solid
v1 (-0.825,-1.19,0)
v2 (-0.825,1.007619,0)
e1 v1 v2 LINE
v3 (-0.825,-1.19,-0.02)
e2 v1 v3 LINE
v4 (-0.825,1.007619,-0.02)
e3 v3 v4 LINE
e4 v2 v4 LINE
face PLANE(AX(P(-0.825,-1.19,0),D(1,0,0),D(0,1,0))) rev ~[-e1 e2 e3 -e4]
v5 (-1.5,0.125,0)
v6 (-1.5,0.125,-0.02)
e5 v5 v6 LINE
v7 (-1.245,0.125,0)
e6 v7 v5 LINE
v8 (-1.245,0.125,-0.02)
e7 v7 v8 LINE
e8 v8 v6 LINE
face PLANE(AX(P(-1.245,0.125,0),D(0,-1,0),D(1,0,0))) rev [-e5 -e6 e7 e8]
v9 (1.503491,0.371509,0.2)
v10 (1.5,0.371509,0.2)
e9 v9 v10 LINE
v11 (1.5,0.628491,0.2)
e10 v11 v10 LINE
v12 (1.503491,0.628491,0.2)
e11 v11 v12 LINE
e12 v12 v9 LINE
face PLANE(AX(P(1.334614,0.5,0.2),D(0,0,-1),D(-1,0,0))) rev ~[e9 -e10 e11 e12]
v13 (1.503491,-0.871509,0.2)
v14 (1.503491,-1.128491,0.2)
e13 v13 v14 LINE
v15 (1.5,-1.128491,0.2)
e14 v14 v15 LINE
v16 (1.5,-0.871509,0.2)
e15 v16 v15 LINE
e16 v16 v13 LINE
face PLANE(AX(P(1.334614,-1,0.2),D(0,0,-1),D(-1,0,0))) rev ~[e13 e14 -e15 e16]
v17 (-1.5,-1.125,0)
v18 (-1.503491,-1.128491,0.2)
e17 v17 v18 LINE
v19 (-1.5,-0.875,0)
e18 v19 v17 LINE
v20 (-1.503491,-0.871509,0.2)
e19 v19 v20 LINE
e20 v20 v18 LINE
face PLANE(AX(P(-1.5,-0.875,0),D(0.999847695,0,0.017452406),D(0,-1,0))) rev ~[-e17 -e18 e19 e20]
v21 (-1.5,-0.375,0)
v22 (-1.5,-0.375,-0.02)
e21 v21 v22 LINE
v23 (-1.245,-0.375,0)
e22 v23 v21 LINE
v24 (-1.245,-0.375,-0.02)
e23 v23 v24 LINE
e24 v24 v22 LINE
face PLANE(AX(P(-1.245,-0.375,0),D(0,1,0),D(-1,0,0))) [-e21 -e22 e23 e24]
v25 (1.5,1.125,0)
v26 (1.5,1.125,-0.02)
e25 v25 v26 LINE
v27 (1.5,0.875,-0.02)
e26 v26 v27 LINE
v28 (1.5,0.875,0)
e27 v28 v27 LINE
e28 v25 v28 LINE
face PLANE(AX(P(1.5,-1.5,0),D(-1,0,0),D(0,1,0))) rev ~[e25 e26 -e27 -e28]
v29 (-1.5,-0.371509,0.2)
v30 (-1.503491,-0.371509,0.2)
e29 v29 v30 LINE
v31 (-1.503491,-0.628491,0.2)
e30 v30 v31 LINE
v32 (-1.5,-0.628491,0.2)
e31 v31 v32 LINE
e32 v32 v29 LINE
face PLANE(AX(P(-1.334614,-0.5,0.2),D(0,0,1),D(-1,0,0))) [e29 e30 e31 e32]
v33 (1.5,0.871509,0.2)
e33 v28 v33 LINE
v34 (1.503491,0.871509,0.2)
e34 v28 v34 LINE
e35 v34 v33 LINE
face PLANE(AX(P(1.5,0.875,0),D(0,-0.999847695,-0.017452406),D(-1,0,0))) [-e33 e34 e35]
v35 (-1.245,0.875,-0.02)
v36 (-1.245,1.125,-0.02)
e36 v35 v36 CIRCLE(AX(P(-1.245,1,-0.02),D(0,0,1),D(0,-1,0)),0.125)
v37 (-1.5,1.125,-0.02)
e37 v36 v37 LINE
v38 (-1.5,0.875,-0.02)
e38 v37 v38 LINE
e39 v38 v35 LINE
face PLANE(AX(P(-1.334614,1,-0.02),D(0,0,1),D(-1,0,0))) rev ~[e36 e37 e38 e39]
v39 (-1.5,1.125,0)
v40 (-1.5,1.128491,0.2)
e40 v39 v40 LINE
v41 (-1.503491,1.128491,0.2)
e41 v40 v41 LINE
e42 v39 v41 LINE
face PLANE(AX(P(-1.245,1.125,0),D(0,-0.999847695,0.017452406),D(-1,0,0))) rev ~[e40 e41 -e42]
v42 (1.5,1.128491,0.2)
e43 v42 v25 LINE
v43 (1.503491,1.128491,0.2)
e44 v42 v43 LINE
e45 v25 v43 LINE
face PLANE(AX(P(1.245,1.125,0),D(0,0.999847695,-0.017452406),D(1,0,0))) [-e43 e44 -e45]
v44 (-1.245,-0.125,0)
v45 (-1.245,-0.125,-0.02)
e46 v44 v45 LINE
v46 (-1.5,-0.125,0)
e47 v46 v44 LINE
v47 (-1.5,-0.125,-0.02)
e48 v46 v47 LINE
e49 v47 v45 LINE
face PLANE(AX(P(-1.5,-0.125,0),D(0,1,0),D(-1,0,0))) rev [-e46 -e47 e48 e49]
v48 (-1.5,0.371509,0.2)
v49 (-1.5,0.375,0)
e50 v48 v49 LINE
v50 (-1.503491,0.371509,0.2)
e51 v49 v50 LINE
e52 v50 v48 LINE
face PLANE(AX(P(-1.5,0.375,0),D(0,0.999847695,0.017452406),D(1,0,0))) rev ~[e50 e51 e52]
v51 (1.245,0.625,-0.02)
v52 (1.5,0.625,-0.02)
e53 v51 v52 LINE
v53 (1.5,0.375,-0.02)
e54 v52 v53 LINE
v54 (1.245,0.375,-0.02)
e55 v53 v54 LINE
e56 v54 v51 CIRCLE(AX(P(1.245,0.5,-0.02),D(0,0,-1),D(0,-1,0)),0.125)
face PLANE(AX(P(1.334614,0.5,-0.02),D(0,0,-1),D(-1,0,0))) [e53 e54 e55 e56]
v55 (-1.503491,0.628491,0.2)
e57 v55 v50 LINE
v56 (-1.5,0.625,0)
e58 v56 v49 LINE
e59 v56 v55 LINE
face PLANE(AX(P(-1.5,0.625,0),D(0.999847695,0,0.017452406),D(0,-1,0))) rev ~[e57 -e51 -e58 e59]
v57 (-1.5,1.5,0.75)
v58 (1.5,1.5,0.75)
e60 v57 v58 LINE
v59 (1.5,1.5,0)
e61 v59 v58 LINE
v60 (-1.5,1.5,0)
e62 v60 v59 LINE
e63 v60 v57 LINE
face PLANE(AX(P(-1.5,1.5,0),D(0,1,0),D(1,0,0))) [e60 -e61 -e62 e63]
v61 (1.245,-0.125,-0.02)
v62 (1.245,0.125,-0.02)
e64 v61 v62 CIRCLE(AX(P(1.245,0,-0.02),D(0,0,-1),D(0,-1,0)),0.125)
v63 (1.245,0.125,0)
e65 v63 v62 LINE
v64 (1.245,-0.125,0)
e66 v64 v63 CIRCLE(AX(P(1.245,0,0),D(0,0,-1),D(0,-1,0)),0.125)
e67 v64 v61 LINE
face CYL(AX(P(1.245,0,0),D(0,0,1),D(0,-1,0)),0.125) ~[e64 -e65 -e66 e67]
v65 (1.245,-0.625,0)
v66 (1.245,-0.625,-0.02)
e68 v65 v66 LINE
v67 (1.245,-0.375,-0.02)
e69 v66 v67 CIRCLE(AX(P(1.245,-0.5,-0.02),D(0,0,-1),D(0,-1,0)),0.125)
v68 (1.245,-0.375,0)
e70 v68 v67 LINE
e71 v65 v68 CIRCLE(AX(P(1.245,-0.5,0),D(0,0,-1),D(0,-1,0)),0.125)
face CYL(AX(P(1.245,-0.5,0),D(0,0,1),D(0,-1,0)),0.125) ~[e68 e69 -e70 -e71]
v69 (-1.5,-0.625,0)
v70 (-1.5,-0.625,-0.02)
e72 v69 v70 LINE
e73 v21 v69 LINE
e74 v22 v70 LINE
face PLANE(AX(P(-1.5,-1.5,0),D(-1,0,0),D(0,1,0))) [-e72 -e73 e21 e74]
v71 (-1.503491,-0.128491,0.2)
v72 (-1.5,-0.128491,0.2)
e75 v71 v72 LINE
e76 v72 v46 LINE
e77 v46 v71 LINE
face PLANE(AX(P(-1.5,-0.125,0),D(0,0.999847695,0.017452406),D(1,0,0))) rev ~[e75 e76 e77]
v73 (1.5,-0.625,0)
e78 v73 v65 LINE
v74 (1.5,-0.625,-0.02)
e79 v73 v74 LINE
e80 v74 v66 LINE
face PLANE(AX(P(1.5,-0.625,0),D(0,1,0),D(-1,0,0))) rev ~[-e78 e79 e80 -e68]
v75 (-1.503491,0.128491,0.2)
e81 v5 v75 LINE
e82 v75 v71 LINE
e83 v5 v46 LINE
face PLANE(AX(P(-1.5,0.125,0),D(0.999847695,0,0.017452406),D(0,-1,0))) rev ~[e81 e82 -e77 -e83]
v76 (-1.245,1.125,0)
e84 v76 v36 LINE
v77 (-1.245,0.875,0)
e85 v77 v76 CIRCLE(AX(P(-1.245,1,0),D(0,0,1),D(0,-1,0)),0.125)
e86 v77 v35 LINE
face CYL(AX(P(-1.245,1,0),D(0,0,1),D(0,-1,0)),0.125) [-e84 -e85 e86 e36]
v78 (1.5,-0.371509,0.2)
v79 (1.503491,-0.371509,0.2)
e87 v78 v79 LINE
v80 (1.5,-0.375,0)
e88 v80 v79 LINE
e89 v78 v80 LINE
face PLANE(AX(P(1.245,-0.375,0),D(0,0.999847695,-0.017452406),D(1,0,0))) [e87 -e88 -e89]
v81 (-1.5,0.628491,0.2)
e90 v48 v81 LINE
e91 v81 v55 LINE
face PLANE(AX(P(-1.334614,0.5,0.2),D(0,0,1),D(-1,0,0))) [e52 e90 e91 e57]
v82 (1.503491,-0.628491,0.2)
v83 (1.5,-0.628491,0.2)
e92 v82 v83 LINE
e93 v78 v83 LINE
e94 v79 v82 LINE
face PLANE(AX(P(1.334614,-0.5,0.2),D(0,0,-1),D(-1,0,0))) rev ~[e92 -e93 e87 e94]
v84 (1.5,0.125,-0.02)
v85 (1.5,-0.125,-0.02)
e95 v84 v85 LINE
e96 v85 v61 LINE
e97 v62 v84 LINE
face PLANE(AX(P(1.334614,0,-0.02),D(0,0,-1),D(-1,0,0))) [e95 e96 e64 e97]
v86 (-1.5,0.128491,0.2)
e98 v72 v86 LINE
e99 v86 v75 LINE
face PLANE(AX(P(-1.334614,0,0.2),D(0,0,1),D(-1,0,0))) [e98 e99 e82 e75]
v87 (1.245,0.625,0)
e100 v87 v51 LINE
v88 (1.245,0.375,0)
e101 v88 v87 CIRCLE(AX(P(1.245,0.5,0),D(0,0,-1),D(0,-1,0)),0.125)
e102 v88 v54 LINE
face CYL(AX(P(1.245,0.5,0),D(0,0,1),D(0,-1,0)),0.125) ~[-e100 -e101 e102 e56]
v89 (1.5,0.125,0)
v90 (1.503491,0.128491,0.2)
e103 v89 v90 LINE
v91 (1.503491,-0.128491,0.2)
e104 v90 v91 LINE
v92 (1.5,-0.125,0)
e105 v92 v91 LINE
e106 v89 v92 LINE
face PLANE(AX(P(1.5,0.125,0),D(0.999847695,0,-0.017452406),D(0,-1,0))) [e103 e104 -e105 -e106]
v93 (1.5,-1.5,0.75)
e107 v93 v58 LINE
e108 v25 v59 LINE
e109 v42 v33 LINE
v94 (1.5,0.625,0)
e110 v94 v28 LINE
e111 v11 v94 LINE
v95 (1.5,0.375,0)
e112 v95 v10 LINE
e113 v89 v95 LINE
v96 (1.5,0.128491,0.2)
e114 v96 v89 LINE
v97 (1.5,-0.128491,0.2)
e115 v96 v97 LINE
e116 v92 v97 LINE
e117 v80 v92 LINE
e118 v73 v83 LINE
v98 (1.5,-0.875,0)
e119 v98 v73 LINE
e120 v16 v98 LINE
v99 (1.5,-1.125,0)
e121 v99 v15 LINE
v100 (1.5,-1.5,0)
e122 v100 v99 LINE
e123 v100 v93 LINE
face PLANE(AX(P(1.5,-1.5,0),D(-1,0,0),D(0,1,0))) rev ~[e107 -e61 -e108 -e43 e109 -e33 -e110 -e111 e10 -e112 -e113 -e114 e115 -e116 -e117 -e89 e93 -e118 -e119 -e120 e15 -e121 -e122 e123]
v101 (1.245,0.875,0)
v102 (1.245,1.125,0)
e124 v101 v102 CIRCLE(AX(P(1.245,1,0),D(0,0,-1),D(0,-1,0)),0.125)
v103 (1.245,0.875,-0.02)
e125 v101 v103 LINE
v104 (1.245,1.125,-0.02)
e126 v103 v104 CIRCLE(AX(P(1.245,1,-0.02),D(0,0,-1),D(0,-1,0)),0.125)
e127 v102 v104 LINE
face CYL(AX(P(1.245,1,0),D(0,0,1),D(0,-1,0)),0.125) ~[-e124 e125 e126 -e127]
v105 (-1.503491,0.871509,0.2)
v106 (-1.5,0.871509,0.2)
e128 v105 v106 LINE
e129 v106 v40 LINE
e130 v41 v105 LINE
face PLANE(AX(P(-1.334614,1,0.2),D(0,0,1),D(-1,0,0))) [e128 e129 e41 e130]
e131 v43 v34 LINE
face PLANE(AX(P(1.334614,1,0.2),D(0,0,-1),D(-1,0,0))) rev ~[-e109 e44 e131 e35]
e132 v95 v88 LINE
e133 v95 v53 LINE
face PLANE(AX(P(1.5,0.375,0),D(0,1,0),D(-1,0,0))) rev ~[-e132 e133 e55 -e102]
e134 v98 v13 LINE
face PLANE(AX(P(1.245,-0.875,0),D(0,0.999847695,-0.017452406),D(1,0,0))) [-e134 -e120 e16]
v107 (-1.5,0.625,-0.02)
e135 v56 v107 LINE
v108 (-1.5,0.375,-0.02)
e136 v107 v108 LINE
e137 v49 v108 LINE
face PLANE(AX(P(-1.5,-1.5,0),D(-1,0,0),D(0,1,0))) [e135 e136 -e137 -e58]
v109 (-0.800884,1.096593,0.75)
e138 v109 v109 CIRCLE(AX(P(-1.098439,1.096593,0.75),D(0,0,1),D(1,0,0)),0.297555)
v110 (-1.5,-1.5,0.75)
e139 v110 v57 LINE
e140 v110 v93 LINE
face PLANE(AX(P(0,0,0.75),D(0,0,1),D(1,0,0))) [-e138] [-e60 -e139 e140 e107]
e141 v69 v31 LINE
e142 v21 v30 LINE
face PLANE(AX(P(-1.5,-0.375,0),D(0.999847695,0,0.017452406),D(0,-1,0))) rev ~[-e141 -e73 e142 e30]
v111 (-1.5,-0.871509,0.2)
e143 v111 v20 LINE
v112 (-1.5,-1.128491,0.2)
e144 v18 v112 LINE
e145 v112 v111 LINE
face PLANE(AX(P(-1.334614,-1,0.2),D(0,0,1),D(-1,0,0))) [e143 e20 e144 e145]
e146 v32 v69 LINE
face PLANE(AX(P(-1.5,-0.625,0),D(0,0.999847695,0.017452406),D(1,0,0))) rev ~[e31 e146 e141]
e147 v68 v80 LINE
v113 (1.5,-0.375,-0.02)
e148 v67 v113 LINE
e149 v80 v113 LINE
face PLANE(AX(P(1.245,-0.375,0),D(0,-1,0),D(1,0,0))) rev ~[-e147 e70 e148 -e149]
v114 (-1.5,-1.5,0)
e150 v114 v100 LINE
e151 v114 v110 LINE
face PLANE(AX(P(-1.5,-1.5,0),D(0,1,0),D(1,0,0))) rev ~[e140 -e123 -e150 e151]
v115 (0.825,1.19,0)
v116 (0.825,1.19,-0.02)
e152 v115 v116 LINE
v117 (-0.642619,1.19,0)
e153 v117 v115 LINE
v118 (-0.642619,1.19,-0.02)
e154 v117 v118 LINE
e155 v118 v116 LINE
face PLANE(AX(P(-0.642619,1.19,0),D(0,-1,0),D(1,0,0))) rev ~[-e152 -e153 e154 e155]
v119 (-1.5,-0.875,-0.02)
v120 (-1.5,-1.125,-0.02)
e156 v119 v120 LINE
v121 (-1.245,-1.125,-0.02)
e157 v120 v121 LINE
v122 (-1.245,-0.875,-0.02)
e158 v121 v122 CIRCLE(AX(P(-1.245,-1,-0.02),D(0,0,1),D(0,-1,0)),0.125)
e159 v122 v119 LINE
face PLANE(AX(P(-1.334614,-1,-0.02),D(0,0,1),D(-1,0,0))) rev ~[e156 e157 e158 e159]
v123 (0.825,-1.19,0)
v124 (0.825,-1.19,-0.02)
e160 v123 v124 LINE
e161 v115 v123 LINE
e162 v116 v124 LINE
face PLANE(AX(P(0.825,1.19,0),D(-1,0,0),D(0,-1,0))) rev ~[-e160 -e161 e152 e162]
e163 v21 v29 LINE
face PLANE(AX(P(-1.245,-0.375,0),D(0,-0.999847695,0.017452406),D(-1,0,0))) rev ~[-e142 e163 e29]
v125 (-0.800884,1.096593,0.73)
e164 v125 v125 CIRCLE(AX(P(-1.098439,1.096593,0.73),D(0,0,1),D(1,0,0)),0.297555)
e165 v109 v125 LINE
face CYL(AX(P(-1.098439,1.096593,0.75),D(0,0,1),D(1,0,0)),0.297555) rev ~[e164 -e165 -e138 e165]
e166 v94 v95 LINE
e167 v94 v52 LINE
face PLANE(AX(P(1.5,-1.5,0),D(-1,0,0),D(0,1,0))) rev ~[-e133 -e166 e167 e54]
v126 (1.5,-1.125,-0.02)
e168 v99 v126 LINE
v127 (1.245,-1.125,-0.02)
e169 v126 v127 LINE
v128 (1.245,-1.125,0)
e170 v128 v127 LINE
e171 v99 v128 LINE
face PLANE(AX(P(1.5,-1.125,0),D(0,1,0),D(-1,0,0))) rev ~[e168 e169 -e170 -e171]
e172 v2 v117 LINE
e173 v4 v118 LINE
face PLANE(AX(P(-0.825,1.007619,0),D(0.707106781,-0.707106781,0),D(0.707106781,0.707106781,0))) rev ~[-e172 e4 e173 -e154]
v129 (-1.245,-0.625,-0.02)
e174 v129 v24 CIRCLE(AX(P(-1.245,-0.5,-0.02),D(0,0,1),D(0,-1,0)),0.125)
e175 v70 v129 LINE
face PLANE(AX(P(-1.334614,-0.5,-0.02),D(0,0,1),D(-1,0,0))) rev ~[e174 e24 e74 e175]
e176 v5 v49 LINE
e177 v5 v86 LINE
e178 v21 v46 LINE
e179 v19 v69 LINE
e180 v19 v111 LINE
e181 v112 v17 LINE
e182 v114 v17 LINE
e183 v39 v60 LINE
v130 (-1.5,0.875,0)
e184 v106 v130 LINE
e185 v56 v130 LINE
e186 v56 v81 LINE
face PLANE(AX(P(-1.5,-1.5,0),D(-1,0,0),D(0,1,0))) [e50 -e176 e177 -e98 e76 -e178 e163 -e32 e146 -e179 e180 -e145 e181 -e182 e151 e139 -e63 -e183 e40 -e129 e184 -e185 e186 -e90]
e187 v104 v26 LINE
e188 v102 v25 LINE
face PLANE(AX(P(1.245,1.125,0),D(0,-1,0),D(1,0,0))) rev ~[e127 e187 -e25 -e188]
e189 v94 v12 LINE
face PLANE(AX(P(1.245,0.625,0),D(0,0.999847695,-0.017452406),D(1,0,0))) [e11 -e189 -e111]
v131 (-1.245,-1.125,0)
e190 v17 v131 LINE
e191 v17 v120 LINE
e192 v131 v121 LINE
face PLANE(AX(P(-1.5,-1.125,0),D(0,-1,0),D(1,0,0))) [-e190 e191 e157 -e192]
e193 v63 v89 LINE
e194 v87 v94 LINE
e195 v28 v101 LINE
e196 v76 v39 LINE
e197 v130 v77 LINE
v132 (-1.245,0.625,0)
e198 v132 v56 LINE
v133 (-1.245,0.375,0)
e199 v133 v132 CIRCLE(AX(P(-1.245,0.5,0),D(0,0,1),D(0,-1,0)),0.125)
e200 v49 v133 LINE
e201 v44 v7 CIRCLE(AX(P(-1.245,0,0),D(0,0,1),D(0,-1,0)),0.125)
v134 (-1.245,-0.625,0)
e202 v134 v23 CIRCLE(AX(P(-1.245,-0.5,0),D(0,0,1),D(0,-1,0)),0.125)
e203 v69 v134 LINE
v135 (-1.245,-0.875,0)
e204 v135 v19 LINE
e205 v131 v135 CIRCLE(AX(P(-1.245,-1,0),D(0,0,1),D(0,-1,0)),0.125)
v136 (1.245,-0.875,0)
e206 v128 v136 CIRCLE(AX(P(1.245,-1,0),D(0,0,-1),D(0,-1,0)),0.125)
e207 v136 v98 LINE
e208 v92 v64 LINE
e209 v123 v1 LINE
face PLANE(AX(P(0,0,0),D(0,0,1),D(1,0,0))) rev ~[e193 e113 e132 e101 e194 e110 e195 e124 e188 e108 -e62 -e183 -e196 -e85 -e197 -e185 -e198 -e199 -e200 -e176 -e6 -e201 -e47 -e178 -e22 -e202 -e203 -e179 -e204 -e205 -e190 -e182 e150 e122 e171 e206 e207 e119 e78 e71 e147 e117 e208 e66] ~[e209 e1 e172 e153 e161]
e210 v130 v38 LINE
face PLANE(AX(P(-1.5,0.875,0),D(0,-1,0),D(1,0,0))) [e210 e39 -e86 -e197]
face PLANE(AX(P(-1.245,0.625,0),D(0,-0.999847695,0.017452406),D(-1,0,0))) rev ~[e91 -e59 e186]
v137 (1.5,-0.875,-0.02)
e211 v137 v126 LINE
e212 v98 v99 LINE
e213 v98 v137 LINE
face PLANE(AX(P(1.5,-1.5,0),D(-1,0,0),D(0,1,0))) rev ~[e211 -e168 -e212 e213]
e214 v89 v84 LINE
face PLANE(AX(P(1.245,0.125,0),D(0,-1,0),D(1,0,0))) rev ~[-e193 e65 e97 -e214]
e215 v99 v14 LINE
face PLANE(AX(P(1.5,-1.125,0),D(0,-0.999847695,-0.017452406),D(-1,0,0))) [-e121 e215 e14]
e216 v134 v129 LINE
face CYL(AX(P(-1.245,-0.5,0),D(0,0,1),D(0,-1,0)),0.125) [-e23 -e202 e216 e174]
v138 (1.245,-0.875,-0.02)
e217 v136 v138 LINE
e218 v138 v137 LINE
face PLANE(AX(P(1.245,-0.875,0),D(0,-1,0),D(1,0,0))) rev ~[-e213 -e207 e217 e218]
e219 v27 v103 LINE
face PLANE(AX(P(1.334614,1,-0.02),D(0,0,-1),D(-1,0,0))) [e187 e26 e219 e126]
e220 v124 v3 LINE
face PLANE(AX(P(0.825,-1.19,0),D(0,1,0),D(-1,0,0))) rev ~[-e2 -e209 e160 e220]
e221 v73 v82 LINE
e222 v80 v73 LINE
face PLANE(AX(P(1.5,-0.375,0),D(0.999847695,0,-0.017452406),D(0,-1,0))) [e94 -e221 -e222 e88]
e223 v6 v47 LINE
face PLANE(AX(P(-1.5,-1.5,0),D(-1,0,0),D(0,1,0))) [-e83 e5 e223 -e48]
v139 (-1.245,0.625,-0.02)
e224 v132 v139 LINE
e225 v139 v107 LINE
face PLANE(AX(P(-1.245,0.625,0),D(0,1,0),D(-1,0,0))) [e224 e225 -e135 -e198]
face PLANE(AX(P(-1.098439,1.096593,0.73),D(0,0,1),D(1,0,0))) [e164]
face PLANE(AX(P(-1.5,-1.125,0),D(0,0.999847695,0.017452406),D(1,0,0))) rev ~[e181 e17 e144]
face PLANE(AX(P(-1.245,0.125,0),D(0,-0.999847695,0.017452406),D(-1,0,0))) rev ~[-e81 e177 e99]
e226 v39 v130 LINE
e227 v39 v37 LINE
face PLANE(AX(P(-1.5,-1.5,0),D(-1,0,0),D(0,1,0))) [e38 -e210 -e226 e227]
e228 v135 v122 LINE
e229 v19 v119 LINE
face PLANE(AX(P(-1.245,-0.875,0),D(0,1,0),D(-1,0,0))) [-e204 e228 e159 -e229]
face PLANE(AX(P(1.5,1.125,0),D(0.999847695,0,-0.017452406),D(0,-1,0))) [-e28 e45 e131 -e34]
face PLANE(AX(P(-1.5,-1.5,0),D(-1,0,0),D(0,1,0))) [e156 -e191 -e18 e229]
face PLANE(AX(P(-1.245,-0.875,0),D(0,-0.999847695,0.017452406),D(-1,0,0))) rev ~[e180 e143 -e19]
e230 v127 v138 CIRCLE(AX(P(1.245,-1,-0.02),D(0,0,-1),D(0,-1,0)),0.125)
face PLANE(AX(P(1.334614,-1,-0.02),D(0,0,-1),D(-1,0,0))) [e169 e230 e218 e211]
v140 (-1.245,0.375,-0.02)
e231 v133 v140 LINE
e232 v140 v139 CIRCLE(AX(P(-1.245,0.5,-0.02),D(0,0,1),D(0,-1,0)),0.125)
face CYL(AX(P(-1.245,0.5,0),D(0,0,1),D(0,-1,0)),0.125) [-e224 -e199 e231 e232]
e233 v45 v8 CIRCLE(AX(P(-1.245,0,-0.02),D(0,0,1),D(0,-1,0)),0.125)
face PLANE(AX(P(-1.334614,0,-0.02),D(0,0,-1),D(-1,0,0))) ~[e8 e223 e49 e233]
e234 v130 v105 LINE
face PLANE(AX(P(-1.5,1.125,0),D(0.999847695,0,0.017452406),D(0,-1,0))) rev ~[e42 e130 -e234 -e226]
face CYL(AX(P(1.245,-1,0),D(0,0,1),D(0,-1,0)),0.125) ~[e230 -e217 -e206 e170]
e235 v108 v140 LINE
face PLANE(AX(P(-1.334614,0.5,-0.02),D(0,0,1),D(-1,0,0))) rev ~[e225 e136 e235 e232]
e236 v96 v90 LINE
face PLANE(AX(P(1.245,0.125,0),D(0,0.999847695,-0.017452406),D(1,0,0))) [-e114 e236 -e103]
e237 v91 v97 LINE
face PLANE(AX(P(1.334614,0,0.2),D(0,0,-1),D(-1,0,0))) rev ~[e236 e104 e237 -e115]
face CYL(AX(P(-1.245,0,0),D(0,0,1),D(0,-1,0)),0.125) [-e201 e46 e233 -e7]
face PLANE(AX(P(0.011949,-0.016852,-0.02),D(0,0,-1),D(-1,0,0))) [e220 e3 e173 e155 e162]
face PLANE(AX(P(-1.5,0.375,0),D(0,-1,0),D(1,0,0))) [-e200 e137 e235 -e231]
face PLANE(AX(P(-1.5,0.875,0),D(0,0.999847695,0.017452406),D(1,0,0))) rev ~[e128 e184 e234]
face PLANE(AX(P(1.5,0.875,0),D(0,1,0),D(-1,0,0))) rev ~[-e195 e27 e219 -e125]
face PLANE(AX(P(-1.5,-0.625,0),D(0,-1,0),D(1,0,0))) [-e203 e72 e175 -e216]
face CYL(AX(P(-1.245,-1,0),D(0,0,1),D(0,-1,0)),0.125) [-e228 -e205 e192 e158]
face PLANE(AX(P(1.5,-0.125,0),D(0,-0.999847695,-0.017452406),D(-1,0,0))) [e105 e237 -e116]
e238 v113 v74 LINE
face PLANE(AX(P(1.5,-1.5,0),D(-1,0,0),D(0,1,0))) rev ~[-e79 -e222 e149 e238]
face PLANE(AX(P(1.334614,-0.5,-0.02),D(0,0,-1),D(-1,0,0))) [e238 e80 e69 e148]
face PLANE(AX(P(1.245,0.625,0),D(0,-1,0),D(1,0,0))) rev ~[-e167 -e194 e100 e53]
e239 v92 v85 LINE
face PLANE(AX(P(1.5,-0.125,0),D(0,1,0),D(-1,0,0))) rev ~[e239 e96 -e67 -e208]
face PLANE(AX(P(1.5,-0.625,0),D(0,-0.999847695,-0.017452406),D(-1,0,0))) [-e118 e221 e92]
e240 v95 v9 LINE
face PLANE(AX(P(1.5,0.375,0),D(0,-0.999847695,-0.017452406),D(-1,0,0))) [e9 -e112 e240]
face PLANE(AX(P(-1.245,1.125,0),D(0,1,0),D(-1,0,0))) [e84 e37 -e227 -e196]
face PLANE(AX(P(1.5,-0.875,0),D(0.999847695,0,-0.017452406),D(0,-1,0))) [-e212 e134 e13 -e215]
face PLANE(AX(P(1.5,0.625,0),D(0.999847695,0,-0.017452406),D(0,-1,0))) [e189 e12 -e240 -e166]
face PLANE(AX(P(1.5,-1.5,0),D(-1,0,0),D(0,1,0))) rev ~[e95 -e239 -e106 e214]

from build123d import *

# Parameters (mm, degrees)
SKETCH1_W                     = 3
SKETCH1_H                     = 3
BOSS_EXTRUDE1_DEPTH           = 0.75
SKETCH2_R                     = 0.297554852
CUT_EXTRUDE1_DEPTH            = 0.02
BOSS_EXTRUDE2_DEPTH           = 0.02
BOSS_EXTRUDE3_DEPTH           = 0.02
BOSS_EXTRUDE3_OTHER_WAY_DEPTH = 0.2
BOSS_EXTRUDE3_OTHER_WAY_DRAFT = 1
LPATTERN2_COUNT               = 3
LPATTERN2_PITCH               = 0.5
LPATTERN2_COPY_1_DEPTH        = 0.2
LPATTERN2_COPY_1_DRAFT        = 1
LPATTERN2_COPY_2_DEPTH        = 0.2
LPATTERN2_COPY_2_DRAFT        = 1
LPATTERN2_COPY_3_DEPTH        = 0.2
LPATTERN2_COPY_3_DRAFT        = 1
LPATTERN2_COPY_4_DEPTH        = 0.2
LPATTERN2_COPY_4_DRAFT        = 1
LPATTERN2_COL_COUNT           = 3
LPATTERN2_COL_PITCH           = 0.5
LPATTERN2_COL_COPY_1_DEPTH    = 0.2
LPATTERN2_COL_COPY_1_DRAFT    = 1
LPATTERN2_COL_COPY_2_DEPTH    = 0.2
LPATTERN2_COL_COPY_2_DRAFT    = 1
LPATTERN2_COL_COPY_3_DEPTH    = 0.2
LPATTERN2_COL_COPY_3_DRAFT    = 1
LPATTERN2_COL_COPY_4_DEPTH    = 0.2
LPATTERN2_COL_COPY_4_DRAFT    = 1
MIRROR1_COPY_1_DEPTH          = 0.2
MIRROR1_COPY_1_DRAFT          = 1
MIRROR1_COPY_2_DEPTH          = 0.2
MIRROR1_COPY_2_DRAFT          = 1
MIRROR1_COPY_3_DEPTH          = 0.02
MIRROR1_COPY_4_DEPTH          = 0.02
MIRROR1_COPY_5_DEPTH          = 0.2
MIRROR1_COPY_5_DRAFT          = 1
MIRROR1_COPY_6_DEPTH          = 0.2
MIRROR1_COPY_6_DRAFT          = 1
MIRROR1_COPY_7_DEPTH          = 0.2
MIRROR1_COPY_7_DRAFT          = 1
MIRROR1_COPY_8_DEPTH          = 0.2
MIRROR1_COPY_8_DRAFT          = 1
MIRROR1_COPY_9_DEPTH          = 0.02
MIRROR1_COPY_10_DEPTH         = 0.02
MIRROR1_COPY_11_DEPTH         = 0.2
MIRROR1_COPY_11_DRAFT         = 1
MIRROR1_COPY_12_DEPTH         = 0.2
MIRROR1_COPY_12_DRAFT         = 1
MIRROR1_COPY_13_DEPTH         = 0.2
MIRROR1_COPY_13_DRAFT         = 1
MIRROR1_COPY_14_DEPTH         = 0.2
MIRROR1_COPY_14_DRAFT         = 1
MIRROR1_COPY_15_DEPTH         = 0.2
MIRROR1_COPY_15_DRAFT         = 1


with BuildPart() as part:
    # Sketch1 → Boss-Extrude1 (new body)
    with BuildSketch(Plane.XY):
        Rectangle(SKETCH1_W, SKETCH1_H)
    extrude(amount=BOSS_EXTRUDE1_DEPTH)

    # Sketch2 → Cut-Extrude1 (cut)
    with BuildSketch(Plane.XY.offset(0.75)):
        with Locations((-1.098438597, 1.096593323)):
            Circle(SKETCH2_R)
    extrude(amount=-CUT_EXTRUDE1_DEPTH, mode=Mode.SUBTRACT)

    # Sketch3 → Boss-Extrude2 (add)
    with BuildSketch(Plane(origin=(0, 0, 0), x_dir=(-1, 0, 0), z_dir=(0, 0, -1))):
        Polygon((0.825, 1.007619321), (0.642619321, 1.19), (-0.825, 1.19), (-0.825, -1.19), (0.825, -1.19), align=None)
    extrude(amount=BOSS_EXTRUDE2_DEPTH)

    # Sketch4 → Boss-Extrude3 (add)
    with BuildSketch(Plane(origin=(0, 0, 0), x_dir=(-1, 0, 0), z_dir=(0, 0, -1))):
        with BuildLine():
            Line((-1.5, 0.125), (-1.5, -0.125))
            Line((-1.5, -0.125), (-1.245, -0.125))
            ThreePointArc((-1.245, -0.125), (-1.12, 0), (-1.245, 0.125))
            Line((-1.245, 0.125), (-1.5, 0.125))
        make_face()
    boss_extrude3 = extrude(amount=BOSS_EXTRUDE3_DEPTH)


with BuildPart() as boss_extrude3_other_way_tool:
    # Sketch4 → Boss-Extrude3 other way (with draft: the straight prism first)
    with BuildSketch(Plane(origin=(0, 0, 0), x_dir=(-1, 0, 0), z_dir=(0, 0, -1))):
        with BuildLine():
            Line((-1.5, 0.125), (-1.5, -0.125))
            Line((-1.5, -0.125), (-1.245, -0.125))
            ThreePointArc((-1.245, -0.125), (-1.12, 0), (-1.245, 0.125))
            Line((-1.245, 0.125), (-1.5, 0.125))
        make_face()
    extrude(amount=-BOSS_EXTRUDE3_OTHER_WAY_DEPTH)
    # Boss-Extrude3 other way: the draft: its side faces are tilted about the plane it starts from
    boss_extrude3_other_way_sides = [boss_extrude3_other_way_tool.faces().sort_by_distance(p)[0] for p in [
        (1.3725, 0.125, 0.1),
        (1.5, 0, 0.1),
        (1.3725, -0.125, 0.1),
        (1.12, 0, 0.1),
    ]]
    draft(boss_extrude3_other_way_sides, Plane(origin=(0, 0, 0), x_dir=(-1, 0, 0), z_dir=(0, 0, -1)), BOSS_EXTRUDE3_OTHER_WAY_DRAFT)


with BuildPart() as part_1:
    add(part.part)

    # Boss-Extrude3 other way: add boss_extrude3_other_way_tool
    add(boss_extrude3_other_way_tool.part)

    # LPattern2: Boss-Extrude3 ×3
    with Locations(*[(0, i * LPATTERN2_PITCH, 0) for i in range(1, LPATTERN2_COUNT)]):
        add(boss_extrude3)


with BuildPart() as lpattern2_copy_1_tool:
    # LPattern2 copy 1 sketch → LPattern2 copy 1 (with draft: the straight prism first)
    with BuildSketch(Plane(origin=(0, 0.5, 0), x_dir=(-1, 0, 0), z_dir=(0, 0, -1))):
        with BuildLine():
            Line((-1.5, 0.125), (-1.5, -0.125))
            Line((-1.5, -0.125), (-1.245, -0.125))
            ThreePointArc((-1.245, -0.125), (-1.12, 0), (-1.245, 0.125))
            Line((-1.245, 0.125), (-1.5, 0.125))
        make_face()
    extrude(amount=-LPATTERN2_COPY_1_DEPTH)
    # LPattern2 copy 1: the draft: its side faces are tilted about the plane it starts from
    lpattern2_copy_1_sides = [lpattern2_copy_1_tool.faces().sort_by_distance(p)[0] for p in [
        (1.3725, 0.625, 0.1),
        (1.5, 0.5, 0.1),
        (1.3725, 0.375, 0.1),
        (1.12, 0.5, 0.1),
    ]]
    draft(lpattern2_copy_1_sides, Plane(origin=(0, 0.5, 0), x_dir=(-1, 0, 0), z_dir=(0, 0, -1)), LPATTERN2_COPY_1_DRAFT)


with BuildPart() as part_2:
    add(part_1.part)

    # LPattern2 copy 1: add lpattern2_copy_1_tool
    add(lpattern2_copy_1_tool.part)


with BuildPart() as lpattern2_copy_2_tool:
    # LPattern2 copy 2 sketch → LPattern2 copy 2 (with draft: the straight prism first)
    with BuildSketch(Plane(origin=(0, 1, 0), x_dir=(-1, 0, 0), z_dir=(0, 0, -1))):
        with BuildLine():
            Line((-1.5, 0.125), (-1.5, -0.125))
            Line((-1.5, -0.125), (-1.245, -0.125))
            ThreePointArc((-1.245, -0.125), (-1.12, 0), (-1.245, 0.125))
            Line((-1.245, 0.125), (-1.5, 0.125))
        make_face()
    extrude(amount=-LPATTERN2_COPY_2_DEPTH)
    # LPattern2 copy 2: the draft: its side faces are tilted about the plane it starts from
    lpattern2_copy_2_sides = [lpattern2_copy_2_tool.faces().sort_by_distance(p)[0] for p in [
        (1.3725, 1.125, 0.1),
        (1.5, 1, 0.1),
        (1.3725, 0.875, 0.1),
        (1.12, 1, 0.1),
    ]]
    draft(lpattern2_copy_2_sides, Plane(origin=(0, 1, 0), x_dir=(-1, 0, 0), z_dir=(0, 0, -1)), LPATTERN2_COPY_2_DRAFT)


with BuildPart() as part_3:
    add(part_2.part)

    # LPattern2 copy 2: add lpattern2_copy_2_tool
    add(lpattern2_copy_2_tool.part)


with BuildPart() as lpattern2_copy_3_tool:
    # LPattern2 copy 3 sketch → LPattern2 copy 3 (with draft: the straight prism first)
    with BuildSketch(Plane(origin=(0, 0.5, 0), x_dir=(-1, 0, 0), z_dir=(0, 0, -1))):
        with BuildLine():
            Line((-1.5, 0.125), (-1.5, -0.125))
            Line((-1.5, -0.125), (-1.245, -0.125))
            ThreePointArc((-1.245, -0.125), (-1.12, 0), (-1.245, 0.125))
            Line((-1.245, 0.125), (-1.5, 0.125))
        make_face()
    extrude(amount=-LPATTERN2_COPY_3_DEPTH)
    # LPattern2 copy 3: the draft: its side faces are tilted about the plane it starts from
    lpattern2_copy_3_sides = [lpattern2_copy_3_tool.faces().sort_by_distance(p)[0] for p in [
        (1.3725, 0.625, 0.1),
        (1.5, 0.5, 0.1),
        (1.3725, 0.375, 0.1),
        (1.12, 0.5, 0.1),
    ]]
    draft(lpattern2_copy_3_sides, Plane(origin=(0, 0.5, 0), x_dir=(-1, 0, 0), z_dir=(0, 0, -1)), LPATTERN2_COPY_3_DRAFT)


with BuildPart() as part_4:
    add(part_3.part)

    # LPattern2 copy 3: add lpattern2_copy_3_tool
    add(lpattern2_copy_3_tool.part)


with BuildPart() as lpattern2_copy_4_tool:
    # LPattern2 copy 4 sketch → LPattern2 copy 4 (with draft: the straight prism first)
    with BuildSketch(Plane(origin=(0, 1, 0), x_dir=(-1, 0, 0), z_dir=(0, 0, -1))):
        with BuildLine():
            Line((-1.5, 0.125), (-1.5, -0.125))
            Line((-1.5, -0.125), (-1.245, -0.125))
            ThreePointArc((-1.245, -0.125), (-1.12, 0), (-1.245, 0.125))
            Line((-1.245, 0.125), (-1.5, 0.125))
        make_face()
    extrude(amount=-LPATTERN2_COPY_4_DEPTH)
    # LPattern2 copy 4: the draft: its side faces are tilted about the plane it starts from
    lpattern2_copy_4_sides = [lpattern2_copy_4_tool.faces().sort_by_distance(p)[0] for p in [
        (1.3725, 1.125, 0.1),
        (1.5, 1, 0.1),
        (1.3725, 0.875, 0.1),
        (1.12, 1, 0.1),
    ]]
    draft(lpattern2_copy_4_sides, Plane(origin=(0, 1, 0), x_dir=(-1, 0, 0), z_dir=(0, 0, -1)), LPATTERN2_COPY_4_DRAFT)


with BuildPart() as part_5:
    add(part_4.part)

    # LPattern2 copy 4: add lpattern2_copy_4_tool
    add(lpattern2_copy_4_tool.part)

    # LPattern2 col: Boss-Extrude3 ×3
    with Locations(*[(0, -i * LPATTERN2_COL_PITCH, 0) for i in range(1, LPATTERN2_COL_COUNT)]):
        add(boss_extrude3)


with BuildPart() as lpattern2_col_copy_1_tool:
    # LPattern2 col copy 1 sketch → LPattern2 col copy 1 (with draft: the straight prism first)
    with BuildSketch(Plane(origin=(0, -0.5, 0), x_dir=(-1, 0, 0), z_dir=(0, 0, -1))):
        with BuildLine():
            Line((-1.5, 0.125), (-1.5, -0.125))
            Line((-1.5, -0.125), (-1.245, -0.125))
            ThreePointArc((-1.245, -0.125), (-1.12, 0), (-1.245, 0.125))
            Line((-1.245, 0.125), (-1.5, 0.125))
        make_face()
    extrude(amount=-LPATTERN2_COL_COPY_1_DEPTH)
    # LPattern2 col copy 1: the draft: its side faces are tilted about the plane it starts from
    lpattern2_col_copy_1_sides = [lpattern2_col_copy_1_tool.faces().sort_by_distance(p)[0] for p in [
        (1.3725, -0.375, 0.1),
        (1.5, -0.5, 0.1),
        (1.3725, -0.625, 0.1),
        (1.12, -0.5, 0.1),
    ]]
    draft(lpattern2_col_copy_1_sides, Plane(origin=(0, -0.5, 0), x_dir=(-1, 0, 0), z_dir=(0, 0, -1)), LPATTERN2_COL_COPY_1_DRAFT)


with BuildPart() as part_6:
    add(part_5.part)

    # LPattern2 col copy 1: add lpattern2_col_copy_1_tool
    add(lpattern2_col_copy_1_tool.part)


with BuildPart() as lpattern2_col_copy_2_tool:
    # LPattern2 col copy 2 sketch → LPattern2 col copy 2 (with draft: the straight prism first)
    with BuildSketch(Plane(origin=(0, -1, 0), x_dir=(-1, 0, 0), z_dir=(0, 0, -1))):
        with BuildLine():
            Line((-1.5, 0.125), (-1.5, -0.125))
            Line((-1.5, -0.125), (-1.245, -0.125))
            ThreePointArc((-1.245, -0.125), (-1.12, 0), (-1.245, 0.125))
            Line((-1.245, 0.125), (-1.5, 0.125))
        make_face()
    extrude(amount=-LPATTERN2_COL_COPY_2_DEPTH)
    # LPattern2 col copy 2: the draft: its side faces are tilted about the plane it starts from
    lpattern2_col_copy_2_sides = [lpattern2_col_copy_2_tool.faces().sort_by_distance(p)[0] for p in [
        (1.3725, -0.875, 0.1),
        (1.5, -1, 0.1),
        (1.3725, -1.125, 0.1),
        (1.12, -1, 0.1),
    ]]
    draft(lpattern2_col_copy_2_sides, Plane(origin=(0, -1, 0), x_dir=(-1, 0, 0), z_dir=(0, 0, -1)), LPATTERN2_COL_COPY_2_DRAFT)


with BuildPart() as part_7:
    add(part_6.part)

    # LPattern2 col copy 2: add lpattern2_col_copy_2_tool
    add(lpattern2_col_copy_2_tool.part)


with BuildPart() as lpattern2_col_copy_3_tool:
    # LPattern2 col copy 3 sketch → LPattern2 col copy 3 (with draft: the straight prism first)
    with BuildSketch(Plane(origin=(0, -0.5, 0), x_dir=(-1, 0, 0), z_dir=(0, 0, -1))):
        with BuildLine():
            Line((-1.5, 0.125), (-1.5, -0.125))
            Line((-1.5, -0.125), (-1.245, -0.125))
            ThreePointArc((-1.245, -0.125), (-1.12, 0), (-1.245, 0.125))
            Line((-1.245, 0.125), (-1.5, 0.125))
        make_face()
    extrude(amount=-LPATTERN2_COL_COPY_3_DEPTH)
    # LPattern2 col copy 3: the draft: its side faces are tilted about the plane it starts from
    lpattern2_col_copy_3_sides = [lpattern2_col_copy_3_tool.faces().sort_by_distance(p)[0] for p in [
        (1.3725, -0.375, 0.1),
        (1.5, -0.5, 0.1),
        (1.3725, -0.625, 0.1),
        (1.12, -0.5, 0.1),
    ]]
    draft(lpattern2_col_copy_3_sides, Plane(origin=(0, -0.5, 0), x_dir=(-1, 0, 0), z_dir=(0, 0, -1)), LPATTERN2_COL_COPY_3_DRAFT)


with BuildPart() as part_8:
    add(part_7.part)

    # LPattern2 col copy 3: add lpattern2_col_copy_3_tool
    add(lpattern2_col_copy_3_tool.part)


with BuildPart() as lpattern2_col_copy_4_tool:
    # LPattern2 col copy 4 sketch → LPattern2 col copy 4 (with draft: the straight prism first)
    with BuildSketch(Plane(origin=(0, -1, 0), x_dir=(-1, 0, 0), z_dir=(0, 0, -1))):
        with BuildLine():
            Line((-1.5, 0.125), (-1.5, -0.125))
            Line((-1.5, -0.125), (-1.245, -0.125))
            ThreePointArc((-1.245, -0.125), (-1.12, 0), (-1.245, 0.125))
            Line((-1.245, 0.125), (-1.5, 0.125))
        make_face()
    extrude(amount=-LPATTERN2_COL_COPY_4_DEPTH)
    # LPattern2 col copy 4: the draft: its side faces are tilted about the plane it starts from
    lpattern2_col_copy_4_sides = [lpattern2_col_copy_4_tool.faces().sort_by_distance(p)[0] for p in [
        (1.3725, -0.875, 0.1),
        (1.5, -1, 0.1),
        (1.3725, -1.125, 0.1),
        (1.12, -1, 0.1),
    ]]
    draft(lpattern2_col_copy_4_sides, Plane(origin=(0, -1, 0), x_dir=(-1, 0, 0), z_dir=(0, 0, -1)), LPATTERN2_COL_COPY_4_DRAFT)


with BuildPart() as part_9:
    add(part_8.part)

    # LPattern2 col copy 4: add lpattern2_col_copy_4_tool
    add(lpattern2_col_copy_4_tool.part)

    # Mirror1: Boss-Extrude3 across plane
    add(boss_extrude3.mirror(Plane(origin=(0, 0, 0), x_dir=(0, 0, 1), z_dir=(1, 0, 0))))


with BuildPart() as mirror1_copy_1_tool:
    # Mirror1 copy 1 sketch → Mirror1 copy 1 (with draft: the straight prism first)
    with BuildSketch(Plane(origin=(0, 0, 0), x_dir=(1, 0, 0), z_dir=(0, 0, -1))):
        with BuildLine():
            Line((-1.5, -0.125), (-1.5, 0.125))
            Line((-1.5, 0.125), (-1.245, 0.125))
            ThreePointArc((-1.245, 0.125), (-1.12, 0), (-1.245, -0.125))
            Line((-1.245, -0.125), (-1.5, -0.125))
        make_face()
    extrude(amount=-MIRROR1_COPY_1_DEPTH)
    # Mirror1 copy 1: the draft: its side faces are tilted about the plane it starts from
    mirror1_copy_1_sides = [mirror1_copy_1_tool.faces().sort_by_distance(p)[0] for p in [
        (-1.3725, 0.125, 0.1),
        (-1.5, 0, 0.1),
        (-1.3725, -0.125, 0.1),
        (-1.12, 0, 0.1),
    ]]
    draft(mirror1_copy_1_sides, Plane(origin=(0, 0, 0), x_dir=(1, 0, 0), z_dir=(0, 0, -1)), MIRROR1_COPY_1_DRAFT)


with BuildPart() as part_10:
    add(part_9.part)

    # Mirror1 copy 1: add mirror1_copy_1_tool
    add(mirror1_copy_1_tool.part)


with BuildPart() as mirror1_copy_2_tool:
    # Mirror1 copy 2 sketch → Mirror1 copy 2 (with draft: the straight prism first)
    with BuildSketch(Plane(origin=(0, 0, 0), x_dir=(1, 0, 0), z_dir=(0, 0, -1))):
        with BuildLine():
            Line((-1.5, -0.125), (-1.5, 0.125))
            Line((-1.5, 0.125), (-1.245, 0.125))
            ThreePointArc((-1.245, 0.125), (-1.12, 0), (-1.245, -0.125))
            Line((-1.245, -0.125), (-1.5, -0.125))
        make_face()
    extrude(amount=-MIRROR1_COPY_2_DEPTH)
    # Mirror1 copy 2: the draft: its side faces are tilted about the plane it starts from
    mirror1_copy_2_sides = [mirror1_copy_2_tool.faces().sort_by_distance(p)[0] for p in [
        (-1.3725, 0.125, 0.1),
        (-1.5, 0, 0.1),
        (-1.3725, -0.125, 0.1),
        (-1.12, 0, 0.1),
    ]]
    draft(mirror1_copy_2_sides, Plane(origin=(0, 0, 0), x_dir=(1, 0, 0), z_dir=(0, 0, -1)), MIRROR1_COPY_2_DRAFT)


with BuildPart() as part_11:
    add(part_10.part)

    # Mirror1 copy 2: add mirror1_copy_2_tool
    add(mirror1_copy_2_tool.part)

    # Mirror1 copy 3 sketch → Mirror1 copy 3 (add)
    with BuildSketch(Plane(origin=(0, 0.5, 0), x_dir=(1, 0, 0), z_dir=(0, 0, -1))):
        with BuildLine():
            Line((-1.5, -0.125), (-1.5, 0.125))
            Line((-1.5, 0.125), (-1.245, 0.125))
            ThreePointArc((-1.245, 0.125), (-1.12, 0), (-1.245, -0.125))
            Line((-1.245, -0.125), (-1.5, -0.125))
        make_face()
    extrude(amount=MIRROR1_COPY_3_DEPTH)

    # Mirror1 copy 4 sketch → Mirror1 copy 4 (add)
    with BuildSketch(Plane(origin=(0, 1, 0), x_dir=(1, 0, 0), z_dir=(0, 0, -1))):
        with BuildLine():
            Line((-1.5, -0.125), (-1.5, 0.125))
            Line((-1.5, 0.125), (-1.245, 0.125))
            ThreePointArc((-1.245, 0.125), (-1.12, 0), (-1.245, -0.125))
            Line((-1.245, -0.125), (-1.5, -0.125))
        make_face()
    extrude(amount=MIRROR1_COPY_4_DEPTH)


with BuildPart() as mirror1_copy_5_tool:
    # Mirror1 copy 5 sketch → Mirror1 copy 5 (with draft: the straight prism first)
    with BuildSketch(Plane(origin=(0, 0.5, 0), x_dir=(1, 0, 0), z_dir=(0, 0, -1))):
        with BuildLine():
            Line((-1.5, -0.125), (-1.5, 0.125))
            Line((-1.5, 0.125), (-1.245, 0.125))
            ThreePointArc((-1.245, 0.125), (-1.12, 0), (-1.245, -0.125))
            Line((-1.245, -0.125), (-1.5, -0.125))
        make_face()
    extrude(amount=-MIRROR1_COPY_5_DEPTH)
    # Mirror1 copy 5: the draft: its side faces are tilted about the plane it starts from
    mirror1_copy_5_sides = [mirror1_copy_5_tool.faces().sort_by_distance(p)[0] for p in [
        (-1.3725, 0.625, 0.1),
        (-1.5, 0.5, 0.1),
        (-1.3725, 0.375, 0.1),
        (-1.12, 0.5, 0.1),
    ]]
    draft(mirror1_copy_5_sides, Plane(origin=(0, 0.5, 0), x_dir=(1, 0, 0), z_dir=(0, 0, -1)), MIRROR1_COPY_5_DRAFT)


with BuildPart() as part_12:
    add(part_11.part)

    # Mirror1 copy 5: add mirror1_copy_5_tool
    add(mirror1_copy_5_tool.part)


with BuildPart() as mirror1_copy_6_tool:
    # Mirror1 copy 6 sketch → Mirror1 copy 6 (with draft: the straight prism first)
    with BuildSketch(Plane(origin=(0, 1, 0), x_dir=(1, 0, 0), z_dir=(0, 0, -1))):
        with BuildLine():
            Line((-1.5, -0.125), (-1.5, 0.125))
            Line((-1.5, 0.125), (-1.245, 0.125))
            ThreePointArc((-1.245, 0.125), (-1.12, 0), (-1.245, -0.125))
            Line((-1.245, -0.125), (-1.5, -0.125))
        make_face()
    extrude(amount=-MIRROR1_COPY_6_DEPTH)
    # Mirror1 copy 6: the draft: its side faces are tilted about the plane it starts from
    mirror1_copy_6_sides = [mirror1_copy_6_tool.faces().sort_by_distance(p)[0] for p in [
        (-1.3725, 1.125, 0.1),
        (-1.5, 1, 0.1),
        (-1.3725, 0.875, 0.1),
        (-1.12, 1, 0.1),
    ]]
    draft(mirror1_copy_6_sides, Plane(origin=(0, 1, 0), x_dir=(1, 0, 0), z_dir=(0, 0, -1)), MIRROR1_COPY_6_DRAFT)


with BuildPart() as part_13:
    add(part_12.part)

    # Mirror1 copy 6: add mirror1_copy_6_tool
    add(mirror1_copy_6_tool.part)


with BuildPart() as mirror1_copy_7_tool:
    # Mirror1 copy 7 sketch → Mirror1 copy 7 (with draft: the straight prism first)
    with BuildSketch(Plane(origin=(0, 0.5, 0), x_dir=(1, 0, 0), z_dir=(0, 0, -1))):
        with BuildLine():
            Line((-1.5, -0.125), (-1.5, 0.125))
            Line((-1.5, 0.125), (-1.245, 0.125))
            ThreePointArc((-1.245, 0.125), (-1.12, 0), (-1.245, -0.125))
            Line((-1.245, -0.125), (-1.5, -0.125))
        make_face()
    extrude(amount=-MIRROR1_COPY_7_DEPTH)
    # Mirror1 copy 7: the draft: its side faces are tilted about the plane it starts from
    mirror1_copy_7_sides = [mirror1_copy_7_tool.faces().sort_by_distance(p)[0] for p in [
        (-1.3725, 0.625, 0.1),
        (-1.5, 0.5, 0.1),
        (-1.3725, 0.375, 0.1),
        (-1.12, 0.5, 0.1),
    ]]
    draft(mirror1_copy_7_sides, Plane(origin=(0, 0.5, 0), x_dir=(1, 0, 0), z_dir=(0, 0, -1)), MIRROR1_COPY_7_DRAFT)


with BuildPart() as part_14:
    add(part_13.part)

    # Mirror1 copy 7: add mirror1_copy_7_tool
    add(mirror1_copy_7_tool.part)


with BuildPart() as mirror1_copy_8_tool:
    # Mirror1 copy 8 sketch → Mirror1 copy 8 (with draft: the straight prism first)
    with BuildSketch(Plane(origin=(0, 1, 0), x_dir=(1, 0, 0), z_dir=(0, 0, -1))):
        with BuildLine():
            Line((-1.5, -0.125), (-1.5, 0.125))
            Line((-1.5, 0.125), (-1.245, 0.125))
            ThreePointArc((-1.245, 0.125), (-1.12, 0), (-1.245, -0.125))
            Line((-1.245, -0.125), (-1.5, -0.125))
        make_face()
    extrude(amount=-MIRROR1_COPY_8_DEPTH)
    # Mirror1 copy 8: the draft: its side faces are tilted about the plane it starts from
    mirror1_copy_8_sides = [mirror1_copy_8_tool.faces().sort_by_distance(p)[0] for p in [
        (-1.3725, 1.125, 0.1),
        (-1.5, 1, 0.1),
        (-1.3725, 0.875, 0.1),
        (-1.12, 1, 0.1),
    ]]
    draft(mirror1_copy_8_sides, Plane(origin=(0, 1, 0), x_dir=(1, 0, 0), z_dir=(0, 0, -1)), MIRROR1_COPY_8_DRAFT)


with BuildPart() as part_15:
    add(part_14.part)

    # Mirror1 copy 8: add mirror1_copy_8_tool
    add(mirror1_copy_8_tool.part)

    # Mirror1 copy 9 sketch → Mirror1 copy 9 (add)
    with BuildSketch(Plane(origin=(0, -0.5, 0), x_dir=(1, 0, 0), z_dir=(0, 0, -1))):
        with BuildLine():
            Line((-1.5, -0.125), (-1.5, 0.125))
            Line((-1.5, 0.125), (-1.245, 0.125))
            ThreePointArc((-1.245, 0.125), (-1.12, 0), (-1.245, -0.125))
            Line((-1.245, -0.125), (-1.5, -0.125))
        make_face()
    extrude(amount=MIRROR1_COPY_9_DEPTH)

    # Mirror1 copy 10 sketch → Mirror1 copy 10 (add)
    with BuildSketch(Plane(origin=(0, -1, 0), x_dir=(1, 0, 0), z_dir=(0, 0, -1))):
        with BuildLine():
            Line((-1.5, -0.125), (-1.5, 0.125))
            Line((-1.5, 0.125), (-1.245, 0.125))
            ThreePointArc((-1.245, 0.125), (-1.12, 0), (-1.245, -0.125))
            Line((-1.245, -0.125), (-1.5, -0.125))
        make_face()
    extrude(amount=MIRROR1_COPY_10_DEPTH)


with BuildPart() as mirror1_copy_11_tool:
    # Mirror1 copy 11 sketch → Mirror1 copy 11 (with draft: the straight prism first)
    with BuildSketch(Plane(origin=(0, -0.5, 0), x_dir=(1, 0, 0), z_dir=(0, 0, -1))):
        with BuildLine():
            Line((-1.5, -0.125), (-1.5, 0.125))
            Line((-1.5, 0.125), (-1.245, 0.125))
            ThreePointArc((-1.245, 0.125), (-1.12, 0), (-1.245, -0.125))
            Line((-1.245, -0.125), (-1.5, -0.125))
        make_face()
    extrude(amount=-MIRROR1_COPY_11_DEPTH)
    # Mirror1 copy 11: the draft: its side faces are tilted about the plane it starts from
    mirror1_copy_11_sides = [mirror1_copy_11_tool.faces().sort_by_distance(p)[0] for p in [
        (-1.3725, -0.375, 0.1),
        (-1.5, -0.5, 0.1),
        (-1.3725, -0.625, 0.1),
        (-1.12, -0.5, 0.1),
    ]]
    draft(mirror1_copy_11_sides, Plane(origin=(0, -0.5, 0), x_dir=(1, 0, 0), z_dir=(0, 0, -1)), MIRROR1_COPY_11_DRAFT)


with BuildPart() as part_16:
    add(part_15.part)

    # Mirror1 copy 11: add mirror1_copy_11_tool
    add(mirror1_copy_11_tool.part)


with BuildPart() as mirror1_copy_12_tool:
    # Mirror1 copy 12 sketch → Mirror1 copy 12 (with draft: the straight prism first)
    with BuildSketch(Plane(origin=(0, -1, 0), x_dir=(1, 0, 0), z_dir=(0, 0, -1))):
        with BuildLine():
            Line((-1.5, -0.125), (-1.5, 0.125))
            Line((-1.5, 0.125), (-1.245, 0.125))
            ThreePointArc((-1.245, 0.125), (-1.12, 0), (-1.245, -0.125))
            Line((-1.245, -0.125), (-1.5, -0.125))
        make_face()
    extrude(amount=-MIRROR1_COPY_12_DEPTH)
    # Mirror1 copy 12: the draft: its side faces are tilted about the plane it starts from
    mirror1_copy_12_sides = [mirror1_copy_12_tool.faces().sort_by_distance(p)[0] for p in [
        (-1.3725, -0.875, 0.1),
        (-1.5, -1, 0.1),
        (-1.3725, -1.125, 0.1),
        (-1.12, -1, 0.1),
    ]]
    draft(mirror1_copy_12_sides, Plane(origin=(0, -1, 0), x_dir=(1, 0, 0), z_dir=(0, 0, -1)), MIRROR1_COPY_12_DRAFT)


with BuildPart() as part_17:
    add(part_16.part)

    # Mirror1 copy 12: add mirror1_copy_12_tool
    add(mirror1_copy_12_tool.part)


with BuildPart() as mirror1_copy_13_tool:
    # Mirror1 copy 13 sketch → Mirror1 copy 13 (with draft: the straight prism first)
    with BuildSketch(Plane(origin=(0, -0.5, 0), x_dir=(1, 0, 0), z_dir=(0, 0, -1))):
        with BuildLine():
            Line((-1.5, -0.125), (-1.5, 0.125))
            Line((-1.5, 0.125), (-1.245, 0.125))
            ThreePointArc((-1.245, 0.125), (-1.12, 0), (-1.245, -0.125))
            Line((-1.245, -0.125), (-1.5, -0.125))
        make_face()
    extrude(amount=-MIRROR1_COPY_13_DEPTH)
    # Mirror1 copy 13: the draft: its side faces are tilted about the plane it starts from
    mirror1_copy_13_sides = [mirror1_copy_13_tool.faces().sort_by_distance(p)[0] for p in [
        (-1.3725, -0.375, 0.1),
        (-1.5, -0.5, 0.1),
        (-1.3725, -0.625, 0.1),
        (-1.12, -0.5, 0.1),
    ]]
    draft(mirror1_copy_13_sides, Plane(origin=(0, -0.5, 0), x_dir=(1, 0, 0), z_dir=(0, 0, -1)), MIRROR1_COPY_13_DRAFT)


with BuildPart() as part_18:
    add(part_17.part)

    # Mirror1 copy 13: add mirror1_copy_13_tool
    add(mirror1_copy_13_tool.part)


with BuildPart() as mirror1_copy_14_tool:
    # Mirror1 copy 14 sketch → Mirror1 copy 14 (with draft: the straight prism first)
    with BuildSketch(Plane(origin=(0, -1, 0), x_dir=(1, 0, 0), z_dir=(0, 0, -1))):
        with BuildLine():
            Line((-1.5, -0.125), (-1.5, 0.125))
            Line((-1.5, 0.125), (-1.245, 0.125))
            ThreePointArc((-1.245, 0.125), (-1.12, 0), (-1.245, -0.125))
            Line((-1.245, -0.125), (-1.5, -0.125))
        make_face()
    extrude(amount=-MIRROR1_COPY_14_DEPTH)
    # Mirror1 copy 14: the draft: its side faces are tilted about the plane it starts from
    mirror1_copy_14_sides = [mirror1_copy_14_tool.faces().sort_by_distance(p)[0] for p in [
        (-1.3725, -0.875, 0.1),
        (-1.5, -1, 0.1),
        (-1.3725, -1.125, 0.1),
        (-1.12, -1, 0.1),
    ]]
    draft(mirror1_copy_14_sides, Plane(origin=(0, -1, 0), x_dir=(1, 0, 0), z_dir=(0, 0, -1)), MIRROR1_COPY_14_DRAFT)


with BuildPart() as part_19:
    add(part_18.part)

    # Mirror1 copy 14: add mirror1_copy_14_tool
    add(mirror1_copy_14_tool.part)


with BuildPart() as mirror1_copy_15_tool:
    # Mirror1 copy 15 sketch → Mirror1 copy 15 (with draft: the straight prism first)
    with BuildSketch(Plane(origin=(0, 0, 0), x_dir=(1, 0, 0), z_dir=(0, 0, -1))):
        with BuildLine():
            Line((-1.5, -0.125), (-1.5, 0.125))
            Line((-1.5, 0.125), (-1.245, 0.125))
            ThreePointArc((-1.245, 0.125), (-1.12, 0), (-1.245, -0.125))
            Line((-1.245, -0.125), (-1.5, -0.125))
        make_face()
    extrude(amount=-MIRROR1_COPY_15_DEPTH)
    # Mirror1 copy 15: the draft: its side faces are tilted about the plane it starts from
    mirror1_copy_15_sides = [mirror1_copy_15_tool.faces().sort_by_distance(p)[0] for p in [
        (-1.3725, 0.125, 0.1),
        (-1.5, 0, 0.1),
        (-1.3725, -0.125, 0.1),
        (-1.12, 0, 0.1),
    ]]
    draft(mirror1_copy_15_sides, Plane(origin=(0, 0, 0), x_dir=(1, 0, 0), z_dir=(0, 0, -1)), MIRROR1_COPY_15_DRAFT)


with BuildPart() as part_20:
    add(part_19.part)

    # Mirror1 copy 15: add mirror1_copy_15_tool
    add(mirror1_copy_15_tool.part)


solid = part_20.part
